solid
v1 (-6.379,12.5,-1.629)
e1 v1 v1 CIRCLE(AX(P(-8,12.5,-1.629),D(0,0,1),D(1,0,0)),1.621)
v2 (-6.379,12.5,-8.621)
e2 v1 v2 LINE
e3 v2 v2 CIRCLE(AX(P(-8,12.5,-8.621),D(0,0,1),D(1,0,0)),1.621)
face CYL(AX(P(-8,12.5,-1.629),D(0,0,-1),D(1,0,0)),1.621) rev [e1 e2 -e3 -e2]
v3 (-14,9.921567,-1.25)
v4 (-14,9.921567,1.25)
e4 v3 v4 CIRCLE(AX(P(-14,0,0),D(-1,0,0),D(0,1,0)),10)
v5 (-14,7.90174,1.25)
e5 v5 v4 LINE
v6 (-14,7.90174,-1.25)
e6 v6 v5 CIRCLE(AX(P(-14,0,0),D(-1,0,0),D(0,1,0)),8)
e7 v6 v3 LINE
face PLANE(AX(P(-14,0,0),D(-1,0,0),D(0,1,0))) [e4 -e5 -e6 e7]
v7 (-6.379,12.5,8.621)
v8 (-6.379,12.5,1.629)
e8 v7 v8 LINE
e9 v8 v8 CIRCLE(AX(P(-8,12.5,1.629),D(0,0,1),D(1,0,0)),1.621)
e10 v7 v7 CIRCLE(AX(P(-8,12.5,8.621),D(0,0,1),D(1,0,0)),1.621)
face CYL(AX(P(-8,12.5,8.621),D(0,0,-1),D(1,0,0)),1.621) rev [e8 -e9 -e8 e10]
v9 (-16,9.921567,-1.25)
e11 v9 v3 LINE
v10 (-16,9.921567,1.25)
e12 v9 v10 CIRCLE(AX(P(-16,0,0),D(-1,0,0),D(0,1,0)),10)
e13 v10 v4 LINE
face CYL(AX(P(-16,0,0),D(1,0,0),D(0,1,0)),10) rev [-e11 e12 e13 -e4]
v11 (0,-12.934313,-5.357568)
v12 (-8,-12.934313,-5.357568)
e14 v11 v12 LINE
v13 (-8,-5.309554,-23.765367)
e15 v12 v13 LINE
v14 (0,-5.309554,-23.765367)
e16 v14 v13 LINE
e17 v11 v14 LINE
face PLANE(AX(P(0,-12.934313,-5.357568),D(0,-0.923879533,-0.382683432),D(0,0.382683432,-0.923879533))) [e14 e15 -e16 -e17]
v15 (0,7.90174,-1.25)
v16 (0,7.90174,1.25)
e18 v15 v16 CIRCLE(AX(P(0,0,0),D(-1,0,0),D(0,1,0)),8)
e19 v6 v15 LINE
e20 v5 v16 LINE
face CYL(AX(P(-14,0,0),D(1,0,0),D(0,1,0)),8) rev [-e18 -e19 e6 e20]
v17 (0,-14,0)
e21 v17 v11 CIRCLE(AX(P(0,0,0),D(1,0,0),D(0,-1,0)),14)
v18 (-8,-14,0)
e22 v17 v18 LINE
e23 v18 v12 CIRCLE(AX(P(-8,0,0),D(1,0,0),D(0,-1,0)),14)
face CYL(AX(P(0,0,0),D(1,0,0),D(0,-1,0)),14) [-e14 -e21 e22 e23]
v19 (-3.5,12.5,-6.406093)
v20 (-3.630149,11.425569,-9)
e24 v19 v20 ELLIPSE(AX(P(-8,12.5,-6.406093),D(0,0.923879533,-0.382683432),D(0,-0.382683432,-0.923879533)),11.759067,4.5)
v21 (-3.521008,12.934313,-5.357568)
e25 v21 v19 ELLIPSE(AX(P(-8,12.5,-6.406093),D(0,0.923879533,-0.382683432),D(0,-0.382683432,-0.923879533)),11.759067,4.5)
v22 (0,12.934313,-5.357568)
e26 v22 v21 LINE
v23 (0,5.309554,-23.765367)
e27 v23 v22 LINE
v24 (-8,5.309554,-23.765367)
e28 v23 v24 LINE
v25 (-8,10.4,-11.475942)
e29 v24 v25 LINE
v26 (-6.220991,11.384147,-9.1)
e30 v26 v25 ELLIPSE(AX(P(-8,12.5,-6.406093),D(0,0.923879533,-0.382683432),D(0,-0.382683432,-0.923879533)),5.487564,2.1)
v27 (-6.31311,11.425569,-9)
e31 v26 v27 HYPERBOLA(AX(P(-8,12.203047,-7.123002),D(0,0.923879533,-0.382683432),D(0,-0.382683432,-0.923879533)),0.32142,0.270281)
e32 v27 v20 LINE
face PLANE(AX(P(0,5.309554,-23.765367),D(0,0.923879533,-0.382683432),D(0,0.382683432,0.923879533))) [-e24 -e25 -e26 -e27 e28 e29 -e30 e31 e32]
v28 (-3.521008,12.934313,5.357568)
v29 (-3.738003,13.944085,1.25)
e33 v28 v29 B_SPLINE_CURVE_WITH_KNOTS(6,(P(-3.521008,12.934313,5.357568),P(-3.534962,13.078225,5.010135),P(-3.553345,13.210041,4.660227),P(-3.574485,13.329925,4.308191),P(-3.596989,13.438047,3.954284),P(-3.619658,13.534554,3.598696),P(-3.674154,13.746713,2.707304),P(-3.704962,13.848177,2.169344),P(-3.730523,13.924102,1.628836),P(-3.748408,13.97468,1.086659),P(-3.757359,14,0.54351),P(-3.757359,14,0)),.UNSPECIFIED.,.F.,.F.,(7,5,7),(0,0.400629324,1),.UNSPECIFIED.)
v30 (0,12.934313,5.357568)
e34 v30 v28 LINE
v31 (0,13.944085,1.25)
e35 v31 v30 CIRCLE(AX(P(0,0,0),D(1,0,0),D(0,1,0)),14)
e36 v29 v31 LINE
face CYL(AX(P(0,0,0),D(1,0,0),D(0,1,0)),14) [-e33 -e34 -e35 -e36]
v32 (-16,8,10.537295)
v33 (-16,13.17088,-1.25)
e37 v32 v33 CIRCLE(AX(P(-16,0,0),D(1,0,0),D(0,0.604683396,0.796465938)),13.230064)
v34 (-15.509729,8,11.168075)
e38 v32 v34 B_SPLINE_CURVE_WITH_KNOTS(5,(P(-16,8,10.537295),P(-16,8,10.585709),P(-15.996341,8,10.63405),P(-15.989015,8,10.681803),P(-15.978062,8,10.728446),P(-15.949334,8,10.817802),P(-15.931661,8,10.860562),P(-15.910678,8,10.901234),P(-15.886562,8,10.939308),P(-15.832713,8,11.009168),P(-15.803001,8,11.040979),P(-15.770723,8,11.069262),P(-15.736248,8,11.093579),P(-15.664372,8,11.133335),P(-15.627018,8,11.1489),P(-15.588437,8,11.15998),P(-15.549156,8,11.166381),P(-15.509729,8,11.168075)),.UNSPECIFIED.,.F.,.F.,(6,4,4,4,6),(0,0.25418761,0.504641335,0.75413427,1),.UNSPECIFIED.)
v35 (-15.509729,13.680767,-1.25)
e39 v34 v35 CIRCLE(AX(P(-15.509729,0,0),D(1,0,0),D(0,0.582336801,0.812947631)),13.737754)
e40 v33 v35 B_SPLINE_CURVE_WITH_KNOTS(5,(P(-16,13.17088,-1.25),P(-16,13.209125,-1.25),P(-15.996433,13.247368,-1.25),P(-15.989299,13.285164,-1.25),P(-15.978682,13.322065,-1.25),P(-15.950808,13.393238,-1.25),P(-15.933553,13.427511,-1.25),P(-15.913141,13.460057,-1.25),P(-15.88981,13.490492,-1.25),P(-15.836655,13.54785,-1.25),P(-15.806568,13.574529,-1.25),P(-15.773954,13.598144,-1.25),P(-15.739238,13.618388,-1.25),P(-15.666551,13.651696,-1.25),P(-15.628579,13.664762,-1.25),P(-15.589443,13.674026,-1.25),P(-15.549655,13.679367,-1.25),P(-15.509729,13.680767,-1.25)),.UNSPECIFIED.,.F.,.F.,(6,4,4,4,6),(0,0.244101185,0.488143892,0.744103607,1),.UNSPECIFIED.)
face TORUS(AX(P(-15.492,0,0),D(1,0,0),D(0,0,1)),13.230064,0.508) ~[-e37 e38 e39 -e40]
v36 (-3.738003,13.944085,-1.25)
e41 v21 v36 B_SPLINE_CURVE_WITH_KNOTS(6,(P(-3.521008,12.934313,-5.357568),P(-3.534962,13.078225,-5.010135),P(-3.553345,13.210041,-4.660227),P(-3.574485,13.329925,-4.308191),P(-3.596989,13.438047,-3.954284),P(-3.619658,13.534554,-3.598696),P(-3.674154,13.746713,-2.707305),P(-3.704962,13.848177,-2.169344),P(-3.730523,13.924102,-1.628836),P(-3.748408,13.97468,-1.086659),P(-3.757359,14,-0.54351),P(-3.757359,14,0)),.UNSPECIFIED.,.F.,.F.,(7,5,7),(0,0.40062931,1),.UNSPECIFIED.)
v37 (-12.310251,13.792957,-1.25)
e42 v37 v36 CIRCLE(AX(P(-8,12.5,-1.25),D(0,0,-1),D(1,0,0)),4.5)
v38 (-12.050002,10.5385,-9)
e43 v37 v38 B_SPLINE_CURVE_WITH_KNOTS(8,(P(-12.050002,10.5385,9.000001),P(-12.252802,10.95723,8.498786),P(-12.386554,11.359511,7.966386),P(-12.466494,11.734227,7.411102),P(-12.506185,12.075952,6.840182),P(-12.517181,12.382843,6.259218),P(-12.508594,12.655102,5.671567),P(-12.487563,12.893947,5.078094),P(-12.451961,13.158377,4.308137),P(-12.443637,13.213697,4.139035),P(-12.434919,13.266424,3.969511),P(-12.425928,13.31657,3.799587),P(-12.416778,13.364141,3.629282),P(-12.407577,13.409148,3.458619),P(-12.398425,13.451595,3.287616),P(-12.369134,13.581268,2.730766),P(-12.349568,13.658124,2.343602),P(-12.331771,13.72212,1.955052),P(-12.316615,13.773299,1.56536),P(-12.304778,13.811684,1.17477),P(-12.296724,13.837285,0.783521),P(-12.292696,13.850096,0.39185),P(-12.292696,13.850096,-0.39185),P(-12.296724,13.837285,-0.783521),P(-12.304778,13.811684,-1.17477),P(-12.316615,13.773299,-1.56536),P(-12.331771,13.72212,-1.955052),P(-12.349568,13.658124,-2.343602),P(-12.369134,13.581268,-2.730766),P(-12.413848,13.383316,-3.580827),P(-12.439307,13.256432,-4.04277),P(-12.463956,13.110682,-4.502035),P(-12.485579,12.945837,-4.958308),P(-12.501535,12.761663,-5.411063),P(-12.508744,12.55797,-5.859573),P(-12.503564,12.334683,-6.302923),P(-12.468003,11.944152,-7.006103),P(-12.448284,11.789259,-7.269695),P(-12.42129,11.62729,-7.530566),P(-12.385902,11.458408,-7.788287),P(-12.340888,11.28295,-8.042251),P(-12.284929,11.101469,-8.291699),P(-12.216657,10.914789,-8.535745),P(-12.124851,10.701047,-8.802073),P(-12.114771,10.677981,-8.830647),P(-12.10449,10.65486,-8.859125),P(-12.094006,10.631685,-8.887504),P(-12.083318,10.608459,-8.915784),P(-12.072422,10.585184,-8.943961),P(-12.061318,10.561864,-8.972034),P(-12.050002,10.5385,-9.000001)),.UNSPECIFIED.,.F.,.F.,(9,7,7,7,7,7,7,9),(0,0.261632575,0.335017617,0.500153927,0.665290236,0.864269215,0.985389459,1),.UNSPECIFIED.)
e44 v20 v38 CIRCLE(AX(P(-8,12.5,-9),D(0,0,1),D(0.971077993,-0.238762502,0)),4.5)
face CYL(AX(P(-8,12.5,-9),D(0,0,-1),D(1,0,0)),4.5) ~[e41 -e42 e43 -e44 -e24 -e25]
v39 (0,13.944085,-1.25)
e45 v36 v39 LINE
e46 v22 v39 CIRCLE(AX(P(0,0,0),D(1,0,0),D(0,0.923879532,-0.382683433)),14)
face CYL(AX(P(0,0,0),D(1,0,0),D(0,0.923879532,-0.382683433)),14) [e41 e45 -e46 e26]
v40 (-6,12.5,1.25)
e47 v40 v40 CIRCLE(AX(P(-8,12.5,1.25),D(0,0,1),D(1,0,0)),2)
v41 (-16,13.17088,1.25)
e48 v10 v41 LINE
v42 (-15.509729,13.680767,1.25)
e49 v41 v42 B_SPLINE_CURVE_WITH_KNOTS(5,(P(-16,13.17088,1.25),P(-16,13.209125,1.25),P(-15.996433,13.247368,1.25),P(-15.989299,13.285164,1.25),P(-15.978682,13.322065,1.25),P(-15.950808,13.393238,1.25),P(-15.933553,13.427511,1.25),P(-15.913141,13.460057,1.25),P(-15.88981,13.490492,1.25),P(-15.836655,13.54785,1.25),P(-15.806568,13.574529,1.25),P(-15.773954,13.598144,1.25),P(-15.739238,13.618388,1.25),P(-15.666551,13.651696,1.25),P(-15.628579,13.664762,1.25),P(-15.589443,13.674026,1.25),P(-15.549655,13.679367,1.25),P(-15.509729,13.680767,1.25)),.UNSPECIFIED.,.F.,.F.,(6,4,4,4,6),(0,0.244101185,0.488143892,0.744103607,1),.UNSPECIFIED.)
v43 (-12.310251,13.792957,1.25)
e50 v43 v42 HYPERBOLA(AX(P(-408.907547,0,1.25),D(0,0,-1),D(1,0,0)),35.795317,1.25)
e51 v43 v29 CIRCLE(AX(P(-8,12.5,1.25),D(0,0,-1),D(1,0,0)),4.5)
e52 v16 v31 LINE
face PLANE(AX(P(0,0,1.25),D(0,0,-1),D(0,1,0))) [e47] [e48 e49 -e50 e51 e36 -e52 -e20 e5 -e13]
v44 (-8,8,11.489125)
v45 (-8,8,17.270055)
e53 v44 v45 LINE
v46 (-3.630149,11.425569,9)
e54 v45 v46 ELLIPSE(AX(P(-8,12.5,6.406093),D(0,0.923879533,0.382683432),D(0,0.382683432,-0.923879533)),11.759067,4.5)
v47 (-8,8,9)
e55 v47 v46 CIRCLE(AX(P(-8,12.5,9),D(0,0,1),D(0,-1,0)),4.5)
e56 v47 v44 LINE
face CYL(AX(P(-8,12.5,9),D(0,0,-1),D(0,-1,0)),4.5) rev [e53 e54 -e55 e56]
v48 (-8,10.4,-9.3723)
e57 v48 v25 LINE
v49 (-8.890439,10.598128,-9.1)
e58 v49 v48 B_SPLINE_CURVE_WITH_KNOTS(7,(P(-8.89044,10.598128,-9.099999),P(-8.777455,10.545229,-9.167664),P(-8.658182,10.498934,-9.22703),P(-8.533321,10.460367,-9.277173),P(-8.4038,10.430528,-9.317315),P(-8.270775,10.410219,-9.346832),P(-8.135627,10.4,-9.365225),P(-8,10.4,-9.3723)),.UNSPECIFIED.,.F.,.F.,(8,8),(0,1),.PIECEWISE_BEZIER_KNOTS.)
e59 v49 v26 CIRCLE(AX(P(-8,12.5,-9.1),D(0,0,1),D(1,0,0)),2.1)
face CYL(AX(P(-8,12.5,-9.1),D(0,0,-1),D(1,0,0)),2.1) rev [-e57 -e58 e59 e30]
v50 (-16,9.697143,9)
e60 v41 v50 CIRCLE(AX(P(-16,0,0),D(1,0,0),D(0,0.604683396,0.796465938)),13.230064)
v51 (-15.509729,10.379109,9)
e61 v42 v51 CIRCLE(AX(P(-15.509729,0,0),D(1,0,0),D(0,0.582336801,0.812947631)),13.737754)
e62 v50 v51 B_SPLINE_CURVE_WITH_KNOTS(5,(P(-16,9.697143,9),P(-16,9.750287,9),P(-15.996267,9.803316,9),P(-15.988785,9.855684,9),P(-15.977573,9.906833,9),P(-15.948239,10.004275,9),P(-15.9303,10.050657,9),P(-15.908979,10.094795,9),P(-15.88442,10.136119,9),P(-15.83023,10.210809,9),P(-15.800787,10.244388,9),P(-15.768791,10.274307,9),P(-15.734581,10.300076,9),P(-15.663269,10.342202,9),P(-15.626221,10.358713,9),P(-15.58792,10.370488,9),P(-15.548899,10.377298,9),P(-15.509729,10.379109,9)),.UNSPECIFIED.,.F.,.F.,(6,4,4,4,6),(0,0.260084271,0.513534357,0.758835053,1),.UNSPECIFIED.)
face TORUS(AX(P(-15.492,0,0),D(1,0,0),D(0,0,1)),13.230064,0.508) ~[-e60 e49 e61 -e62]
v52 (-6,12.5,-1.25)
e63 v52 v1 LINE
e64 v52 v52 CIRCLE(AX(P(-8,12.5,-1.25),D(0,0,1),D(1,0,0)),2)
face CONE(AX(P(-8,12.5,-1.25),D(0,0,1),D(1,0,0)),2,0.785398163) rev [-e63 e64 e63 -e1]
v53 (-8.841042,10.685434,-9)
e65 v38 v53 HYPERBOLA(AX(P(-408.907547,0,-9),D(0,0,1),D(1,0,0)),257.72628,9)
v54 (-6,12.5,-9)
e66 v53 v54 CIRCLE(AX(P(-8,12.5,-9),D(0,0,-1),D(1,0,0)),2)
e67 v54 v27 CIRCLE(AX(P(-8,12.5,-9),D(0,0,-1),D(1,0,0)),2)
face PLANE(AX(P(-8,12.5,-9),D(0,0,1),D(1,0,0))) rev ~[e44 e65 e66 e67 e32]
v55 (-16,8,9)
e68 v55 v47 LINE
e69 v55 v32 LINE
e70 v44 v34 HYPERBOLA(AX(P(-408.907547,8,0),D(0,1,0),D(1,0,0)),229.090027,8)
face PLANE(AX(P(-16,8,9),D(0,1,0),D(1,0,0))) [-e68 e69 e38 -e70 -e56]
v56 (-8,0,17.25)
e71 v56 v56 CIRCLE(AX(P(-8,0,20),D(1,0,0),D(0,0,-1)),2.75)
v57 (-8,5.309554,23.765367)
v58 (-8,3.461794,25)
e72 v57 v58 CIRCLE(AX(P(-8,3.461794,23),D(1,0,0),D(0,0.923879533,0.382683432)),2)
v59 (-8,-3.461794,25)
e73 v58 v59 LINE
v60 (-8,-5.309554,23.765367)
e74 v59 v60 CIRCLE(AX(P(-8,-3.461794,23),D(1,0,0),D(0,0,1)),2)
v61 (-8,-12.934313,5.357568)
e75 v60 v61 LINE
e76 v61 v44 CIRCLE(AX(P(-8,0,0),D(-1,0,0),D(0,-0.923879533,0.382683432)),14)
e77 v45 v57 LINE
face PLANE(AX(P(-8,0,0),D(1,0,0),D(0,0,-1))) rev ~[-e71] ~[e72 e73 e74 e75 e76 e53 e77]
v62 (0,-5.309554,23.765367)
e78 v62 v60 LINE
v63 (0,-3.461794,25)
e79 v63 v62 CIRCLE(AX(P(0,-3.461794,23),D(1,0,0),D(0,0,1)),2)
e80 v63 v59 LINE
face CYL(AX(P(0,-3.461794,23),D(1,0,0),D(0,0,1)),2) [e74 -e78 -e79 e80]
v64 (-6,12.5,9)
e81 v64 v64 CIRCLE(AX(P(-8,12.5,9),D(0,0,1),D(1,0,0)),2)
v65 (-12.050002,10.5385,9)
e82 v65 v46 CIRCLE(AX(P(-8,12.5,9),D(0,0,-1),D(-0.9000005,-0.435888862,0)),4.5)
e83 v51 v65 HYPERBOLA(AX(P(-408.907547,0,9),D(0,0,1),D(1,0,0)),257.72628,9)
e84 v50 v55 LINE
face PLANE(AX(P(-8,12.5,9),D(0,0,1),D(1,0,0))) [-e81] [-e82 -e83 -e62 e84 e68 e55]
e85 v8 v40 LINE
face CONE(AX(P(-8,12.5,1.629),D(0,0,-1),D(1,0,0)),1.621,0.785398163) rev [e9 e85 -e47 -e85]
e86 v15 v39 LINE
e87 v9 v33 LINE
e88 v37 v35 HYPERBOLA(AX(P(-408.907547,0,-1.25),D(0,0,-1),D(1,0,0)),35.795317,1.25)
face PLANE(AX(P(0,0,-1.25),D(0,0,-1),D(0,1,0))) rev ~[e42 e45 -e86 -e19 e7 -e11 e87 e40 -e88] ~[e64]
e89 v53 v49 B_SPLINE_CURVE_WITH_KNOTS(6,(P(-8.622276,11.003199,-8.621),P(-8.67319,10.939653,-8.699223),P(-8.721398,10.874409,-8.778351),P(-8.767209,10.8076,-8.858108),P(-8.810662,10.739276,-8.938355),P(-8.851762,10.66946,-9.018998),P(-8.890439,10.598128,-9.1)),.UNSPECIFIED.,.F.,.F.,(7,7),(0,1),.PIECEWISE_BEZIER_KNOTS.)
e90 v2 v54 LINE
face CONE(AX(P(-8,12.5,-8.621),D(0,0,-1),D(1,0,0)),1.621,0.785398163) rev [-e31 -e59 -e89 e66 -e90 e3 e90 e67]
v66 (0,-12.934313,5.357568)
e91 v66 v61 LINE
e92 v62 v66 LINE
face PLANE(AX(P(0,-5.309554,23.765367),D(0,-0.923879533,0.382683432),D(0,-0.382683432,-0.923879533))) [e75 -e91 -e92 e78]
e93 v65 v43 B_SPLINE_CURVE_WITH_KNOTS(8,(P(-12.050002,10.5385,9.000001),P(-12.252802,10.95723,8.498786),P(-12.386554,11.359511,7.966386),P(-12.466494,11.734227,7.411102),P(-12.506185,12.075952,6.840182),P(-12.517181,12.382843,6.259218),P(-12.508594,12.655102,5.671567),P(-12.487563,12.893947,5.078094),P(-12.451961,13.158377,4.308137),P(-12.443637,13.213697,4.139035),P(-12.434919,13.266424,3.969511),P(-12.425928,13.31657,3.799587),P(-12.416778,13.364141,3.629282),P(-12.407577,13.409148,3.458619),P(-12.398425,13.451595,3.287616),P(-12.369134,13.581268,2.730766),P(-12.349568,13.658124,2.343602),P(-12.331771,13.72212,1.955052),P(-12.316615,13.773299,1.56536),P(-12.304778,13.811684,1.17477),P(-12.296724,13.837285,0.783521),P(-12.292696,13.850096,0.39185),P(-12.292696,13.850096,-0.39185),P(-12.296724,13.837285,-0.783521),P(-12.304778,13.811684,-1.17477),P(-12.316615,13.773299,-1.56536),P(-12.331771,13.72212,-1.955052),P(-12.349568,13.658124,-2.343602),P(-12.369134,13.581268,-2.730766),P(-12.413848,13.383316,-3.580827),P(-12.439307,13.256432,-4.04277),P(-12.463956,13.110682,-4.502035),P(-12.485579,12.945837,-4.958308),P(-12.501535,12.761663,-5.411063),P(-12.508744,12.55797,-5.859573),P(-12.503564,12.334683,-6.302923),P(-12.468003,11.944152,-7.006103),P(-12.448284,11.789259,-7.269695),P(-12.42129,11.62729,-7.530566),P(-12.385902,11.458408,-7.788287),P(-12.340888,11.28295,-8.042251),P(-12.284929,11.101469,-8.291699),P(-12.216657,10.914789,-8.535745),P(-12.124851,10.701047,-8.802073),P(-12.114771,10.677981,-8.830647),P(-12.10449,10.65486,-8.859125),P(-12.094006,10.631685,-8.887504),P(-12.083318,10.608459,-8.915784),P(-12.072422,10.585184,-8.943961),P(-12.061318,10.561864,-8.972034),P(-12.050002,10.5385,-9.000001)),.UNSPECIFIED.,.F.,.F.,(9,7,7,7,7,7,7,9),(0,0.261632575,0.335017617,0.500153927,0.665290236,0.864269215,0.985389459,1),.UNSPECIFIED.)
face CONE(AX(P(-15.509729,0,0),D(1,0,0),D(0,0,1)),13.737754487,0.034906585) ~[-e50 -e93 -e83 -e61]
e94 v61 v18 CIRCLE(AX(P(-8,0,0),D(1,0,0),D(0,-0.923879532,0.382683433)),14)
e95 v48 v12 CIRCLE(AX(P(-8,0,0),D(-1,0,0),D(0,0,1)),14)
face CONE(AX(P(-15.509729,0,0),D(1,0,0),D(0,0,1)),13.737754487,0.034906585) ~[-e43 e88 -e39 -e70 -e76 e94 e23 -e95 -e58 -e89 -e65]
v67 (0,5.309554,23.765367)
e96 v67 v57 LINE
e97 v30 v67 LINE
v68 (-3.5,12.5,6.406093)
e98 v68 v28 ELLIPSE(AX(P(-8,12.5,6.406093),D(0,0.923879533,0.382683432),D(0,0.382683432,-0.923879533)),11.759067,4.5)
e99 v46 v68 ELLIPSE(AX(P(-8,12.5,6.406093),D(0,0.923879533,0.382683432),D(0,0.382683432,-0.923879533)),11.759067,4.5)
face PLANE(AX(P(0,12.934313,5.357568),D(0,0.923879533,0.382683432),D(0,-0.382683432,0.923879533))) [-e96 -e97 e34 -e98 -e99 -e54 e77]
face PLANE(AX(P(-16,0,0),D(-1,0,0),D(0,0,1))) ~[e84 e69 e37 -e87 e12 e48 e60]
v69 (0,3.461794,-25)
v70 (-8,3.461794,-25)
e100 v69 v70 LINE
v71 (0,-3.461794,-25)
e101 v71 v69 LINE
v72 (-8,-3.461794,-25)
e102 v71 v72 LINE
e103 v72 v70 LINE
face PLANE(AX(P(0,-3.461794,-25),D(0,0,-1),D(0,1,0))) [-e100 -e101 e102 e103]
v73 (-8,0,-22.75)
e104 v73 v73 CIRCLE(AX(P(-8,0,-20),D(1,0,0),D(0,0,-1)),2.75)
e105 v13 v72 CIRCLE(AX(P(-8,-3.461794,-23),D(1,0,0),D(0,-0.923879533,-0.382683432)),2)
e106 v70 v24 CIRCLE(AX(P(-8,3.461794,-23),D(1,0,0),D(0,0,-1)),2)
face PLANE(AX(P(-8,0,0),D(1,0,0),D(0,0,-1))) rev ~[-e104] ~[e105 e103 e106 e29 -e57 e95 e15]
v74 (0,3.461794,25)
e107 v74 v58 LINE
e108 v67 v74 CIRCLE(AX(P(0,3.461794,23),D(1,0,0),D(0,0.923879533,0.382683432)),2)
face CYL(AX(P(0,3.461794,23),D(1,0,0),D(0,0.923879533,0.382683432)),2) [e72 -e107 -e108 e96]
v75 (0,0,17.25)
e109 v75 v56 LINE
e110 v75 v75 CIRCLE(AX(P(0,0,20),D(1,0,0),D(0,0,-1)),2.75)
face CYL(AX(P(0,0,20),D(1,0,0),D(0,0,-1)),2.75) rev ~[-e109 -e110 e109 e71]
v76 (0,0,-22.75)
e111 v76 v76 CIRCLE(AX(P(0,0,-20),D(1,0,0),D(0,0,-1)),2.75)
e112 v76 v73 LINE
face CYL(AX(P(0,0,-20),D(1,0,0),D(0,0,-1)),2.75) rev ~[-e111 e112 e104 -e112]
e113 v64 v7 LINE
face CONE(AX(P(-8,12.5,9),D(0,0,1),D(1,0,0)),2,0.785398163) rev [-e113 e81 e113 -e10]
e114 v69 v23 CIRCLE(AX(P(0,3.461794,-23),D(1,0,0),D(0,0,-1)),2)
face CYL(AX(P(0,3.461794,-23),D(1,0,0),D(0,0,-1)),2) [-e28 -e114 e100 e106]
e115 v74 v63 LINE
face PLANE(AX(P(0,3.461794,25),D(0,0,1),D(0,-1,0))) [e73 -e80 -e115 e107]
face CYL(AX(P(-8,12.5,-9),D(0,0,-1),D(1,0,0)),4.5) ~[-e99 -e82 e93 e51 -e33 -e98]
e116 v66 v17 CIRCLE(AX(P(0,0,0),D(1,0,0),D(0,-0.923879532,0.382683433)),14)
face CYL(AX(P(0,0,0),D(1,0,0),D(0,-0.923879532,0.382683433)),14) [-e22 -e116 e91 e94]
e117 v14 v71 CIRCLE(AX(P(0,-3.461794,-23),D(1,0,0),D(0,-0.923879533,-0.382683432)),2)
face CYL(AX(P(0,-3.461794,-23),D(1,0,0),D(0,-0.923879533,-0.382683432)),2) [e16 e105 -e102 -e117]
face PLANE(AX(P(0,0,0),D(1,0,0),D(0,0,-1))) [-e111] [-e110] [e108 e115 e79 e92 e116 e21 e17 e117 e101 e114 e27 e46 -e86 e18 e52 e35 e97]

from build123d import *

# Parameters (mm, degrees)
EXTRUDE_1_DEPTH      = 8
EXTRUDE_2_DEPTH      = 9
EXTRUDE_2_DEPTH_BACK = 9
SKETCH_3_R           = 4.5
CUT_EXTRUDE_1_DEPTH  = 9
SKETCH_5_W           = 2.5
SKETCH_5_H           = 31
CUT_EXTRUDE_2_DEPTH  = 16
SKETCH_9_R           = 2.75
CUT_EXTRUDE_3_DEPTH  = 8
SKETCH_10_R          = 2.75
CUT_EXTRUDE_4_DEPTH  = 8


with BuildPart() as part:
    # 草圖1 → 填料-伸長1 (new body)
    with BuildSketch(Plane(origin=(0, 0, 0), x_dir=(0, 0, -1), z_dir=(1, 0, 0))):
        with BuildLine():
            Line((-25, 3.461794469), (-25, -3.461794469))
            ThreePointArc((-25, -3.461794469), (-24.662939225, -4.572934935), (-23.765366865, -5.309553534))
            Line((-23.765366865, -5.309553534), (-5.357568053, -12.934313455))
            ThreePointArc((-5.357568053, -12.934313455), (-2.731264508, -13.730993926), (0, -14))
            ThreePointArc((0, -14), (2.731264508, -13.730993926), (5.357568053, -12.934313455))
            Line((5.357568053, -12.934313455), (23.765366865, -5.309553534))
            ThreePointArc((23.765366865, -5.309553534), (24.662939225, -4.572934935), (25, -3.461794469))
            Line((25, -3.461794469), (25, 3.461794469))
            ThreePointArc((25, 3.461794469), (24.662939225, 4.572934935), (23.765366865, 5.309553534))
            Line((23.765366865, 5.309553534), (5.357568053, 12.934313455))
            ThreePointArc((5.357568053, 12.934313455), (2.731264508, 13.730993926), (0, 14))
            ThreePointArc((0, 14), (-2.731264508, 13.730993926), (-5.357568053, 12.934313455))
            Line((-5.357568053, 12.934313455), (-23.765366865, 5.309553534))
            ThreePointArc((-23.765366865, 5.309553534), (-24.662939225, 4.572934935), (-25, 3.461794469))
        make_face()
    extrude(amount=-EXTRUDE_1_DEPTH)

    # 草圖2 → 旋轉1 (revolve)
    with BuildSketch(Plane.XY, mode=Mode.PRIVATE) as revolve_1_sk:
        with BuildLine():
            Line((-16, 0), (-16, 13.230063946))
            ThreePointArc((-16, 13.230063946), (-15.857424619, 13.582950399), (-15.509728944, 13.737754487))
            Line((-15.509728944, 13.737754487), (-8, 14))
            Line((-8, 14), (-8, 0))
            Line((-8, 0), (-16, 0))
        make_face()
    revolve(revolve_1_sk.sketch.rotate(Axis((-8, 0, 0), (-1, 0, 0)), 270), axis=Axis((-8, 0, 0), (-1, 0, 0)))

    # 草圖3 → 填料-伸長2 (add, two sides: drawn at the far end of the back side and taken through both)
    with BuildSketch(Plane.XY.offset(-EXTRUDE_2_DEPTH_BACK)):
        with Locations((-8, 12.5)):
            Circle(SKETCH_3_R)
    extrude(amount=EXTRUDE_2_DEPTH + EXTRUDE_2_DEPTH_BACK)

    # 草圖4 → 除料-伸長1 (cut)
    with BuildSketch(Plane.XY.offset(9)):
        with BuildLine():
            Line((-16, 8), (-8, 8))
            ThreePointArc((-8, 8), (-4.818019485, 15.681980515), (-12.5, 12.5))
            Line((-12.5, 12.5), (-16, 12.5))
            Line((-16, 12.5), (-16, 8))
        make_face()
    extrude(amount=CUT_EXTRUDE_1_DEPTH, mode=Mode.SUBTRACT)

    # 草圖5 → 除料-伸長2 (cut)
    with BuildSketch(Plane(origin=(0, 0, 0), x_dir=(0, 0, -1), z_dir=(1, 0, 0))):
        with Locations((0, 15.5)):
            Rectangle(SKETCH_5_W, SKETCH_5_H)
    extrude(amount=-CUT_EXTRUDE_2_DEPTH, mode=Mode.SUBTRACT)

    # 草圖6 → 除料-旋轉1 (revolve, cut)
    with BuildSketch(Plane.XY):
        Polygon((-16, 0), (-16, 10), (-14, 10), (-14, 8), (0, 8), (0, 0), align=None)
    revolve(axis=Axis((0, 0, 0), (-1, 0, 0)), mode=Mode.SUBTRACT)

    # 草圖7 → 除料-旋轉2 (revolve, cut)
    with BuildSketch(Plane(origin=(-8, 0, 0), x_dir=(0, 0, -1), z_dir=(1, 0, 0)), mode=Mode.PRIVATE) as cut_revolve_2_sk:
        Polygon((1.25, 12.5), (1.25, 14.5), (1.629, 14.121), (8.621, 14.121), (9.1, 14.6), (13.5, 14.6), (13.5, 12.5), align=None)
    revolve(cut_revolve_2_sk.sketch.rotate(Axis((-8, 12.5, -13.5), (0, 0, 1)), 270), axis=Axis((-8, 12.5, -13.5), (0, 0, 1)), mode=Mode.SUBTRACT)

    # 草圖8 → 除料-旋轉3 (revolve, cut)
    with BuildSketch(Plane(origin=(-8, 0, 0), x_dir=(0, 0, -1), z_dir=(1, 0, 0)), mode=Mode.PRIVATE) as cut_revolve_3_sk:
        Polygon((-9, 12.5), (-9, 14.5), (-8.621, 14.121), (-1.629, 14.121), (-1.25, 14.5), (-1.25, 12.5), align=None)
    revolve(cut_revolve_3_sk.sketch.rotate(Axis((-8, 12.5, 1.25), (0, 0, 1)), 270), axis=Axis((-8, 12.5, 1.25), (0, 0, 1)), mode=Mode.SUBTRACT)

    # 草圖9 → 除料-伸長3 (cut)
    with BuildSketch(Plane(origin=(0, 0, 0), x_dir=(0, 0, -1), z_dir=(1, 0, 0))):
        with Locations((20, 0)):
            Circle(SKETCH_9_R)
    extrude(amount=-CUT_EXTRUDE_3_DEPTH, mode=Mode.SUBTRACT)

    # 草圖10 → 除料-伸長4 (cut)
    with BuildSketch(Plane(origin=(0, 0, 0), x_dir=(0, 0, -1), z_dir=(1, 0, 0))):
        with Locations((-20, 0)):
            Circle(SKETCH_10_R)
    extrude(amount=-CUT_EXTRUDE_4_DEPTH, mode=Mode.SUBTRACT)


solid = part.part
